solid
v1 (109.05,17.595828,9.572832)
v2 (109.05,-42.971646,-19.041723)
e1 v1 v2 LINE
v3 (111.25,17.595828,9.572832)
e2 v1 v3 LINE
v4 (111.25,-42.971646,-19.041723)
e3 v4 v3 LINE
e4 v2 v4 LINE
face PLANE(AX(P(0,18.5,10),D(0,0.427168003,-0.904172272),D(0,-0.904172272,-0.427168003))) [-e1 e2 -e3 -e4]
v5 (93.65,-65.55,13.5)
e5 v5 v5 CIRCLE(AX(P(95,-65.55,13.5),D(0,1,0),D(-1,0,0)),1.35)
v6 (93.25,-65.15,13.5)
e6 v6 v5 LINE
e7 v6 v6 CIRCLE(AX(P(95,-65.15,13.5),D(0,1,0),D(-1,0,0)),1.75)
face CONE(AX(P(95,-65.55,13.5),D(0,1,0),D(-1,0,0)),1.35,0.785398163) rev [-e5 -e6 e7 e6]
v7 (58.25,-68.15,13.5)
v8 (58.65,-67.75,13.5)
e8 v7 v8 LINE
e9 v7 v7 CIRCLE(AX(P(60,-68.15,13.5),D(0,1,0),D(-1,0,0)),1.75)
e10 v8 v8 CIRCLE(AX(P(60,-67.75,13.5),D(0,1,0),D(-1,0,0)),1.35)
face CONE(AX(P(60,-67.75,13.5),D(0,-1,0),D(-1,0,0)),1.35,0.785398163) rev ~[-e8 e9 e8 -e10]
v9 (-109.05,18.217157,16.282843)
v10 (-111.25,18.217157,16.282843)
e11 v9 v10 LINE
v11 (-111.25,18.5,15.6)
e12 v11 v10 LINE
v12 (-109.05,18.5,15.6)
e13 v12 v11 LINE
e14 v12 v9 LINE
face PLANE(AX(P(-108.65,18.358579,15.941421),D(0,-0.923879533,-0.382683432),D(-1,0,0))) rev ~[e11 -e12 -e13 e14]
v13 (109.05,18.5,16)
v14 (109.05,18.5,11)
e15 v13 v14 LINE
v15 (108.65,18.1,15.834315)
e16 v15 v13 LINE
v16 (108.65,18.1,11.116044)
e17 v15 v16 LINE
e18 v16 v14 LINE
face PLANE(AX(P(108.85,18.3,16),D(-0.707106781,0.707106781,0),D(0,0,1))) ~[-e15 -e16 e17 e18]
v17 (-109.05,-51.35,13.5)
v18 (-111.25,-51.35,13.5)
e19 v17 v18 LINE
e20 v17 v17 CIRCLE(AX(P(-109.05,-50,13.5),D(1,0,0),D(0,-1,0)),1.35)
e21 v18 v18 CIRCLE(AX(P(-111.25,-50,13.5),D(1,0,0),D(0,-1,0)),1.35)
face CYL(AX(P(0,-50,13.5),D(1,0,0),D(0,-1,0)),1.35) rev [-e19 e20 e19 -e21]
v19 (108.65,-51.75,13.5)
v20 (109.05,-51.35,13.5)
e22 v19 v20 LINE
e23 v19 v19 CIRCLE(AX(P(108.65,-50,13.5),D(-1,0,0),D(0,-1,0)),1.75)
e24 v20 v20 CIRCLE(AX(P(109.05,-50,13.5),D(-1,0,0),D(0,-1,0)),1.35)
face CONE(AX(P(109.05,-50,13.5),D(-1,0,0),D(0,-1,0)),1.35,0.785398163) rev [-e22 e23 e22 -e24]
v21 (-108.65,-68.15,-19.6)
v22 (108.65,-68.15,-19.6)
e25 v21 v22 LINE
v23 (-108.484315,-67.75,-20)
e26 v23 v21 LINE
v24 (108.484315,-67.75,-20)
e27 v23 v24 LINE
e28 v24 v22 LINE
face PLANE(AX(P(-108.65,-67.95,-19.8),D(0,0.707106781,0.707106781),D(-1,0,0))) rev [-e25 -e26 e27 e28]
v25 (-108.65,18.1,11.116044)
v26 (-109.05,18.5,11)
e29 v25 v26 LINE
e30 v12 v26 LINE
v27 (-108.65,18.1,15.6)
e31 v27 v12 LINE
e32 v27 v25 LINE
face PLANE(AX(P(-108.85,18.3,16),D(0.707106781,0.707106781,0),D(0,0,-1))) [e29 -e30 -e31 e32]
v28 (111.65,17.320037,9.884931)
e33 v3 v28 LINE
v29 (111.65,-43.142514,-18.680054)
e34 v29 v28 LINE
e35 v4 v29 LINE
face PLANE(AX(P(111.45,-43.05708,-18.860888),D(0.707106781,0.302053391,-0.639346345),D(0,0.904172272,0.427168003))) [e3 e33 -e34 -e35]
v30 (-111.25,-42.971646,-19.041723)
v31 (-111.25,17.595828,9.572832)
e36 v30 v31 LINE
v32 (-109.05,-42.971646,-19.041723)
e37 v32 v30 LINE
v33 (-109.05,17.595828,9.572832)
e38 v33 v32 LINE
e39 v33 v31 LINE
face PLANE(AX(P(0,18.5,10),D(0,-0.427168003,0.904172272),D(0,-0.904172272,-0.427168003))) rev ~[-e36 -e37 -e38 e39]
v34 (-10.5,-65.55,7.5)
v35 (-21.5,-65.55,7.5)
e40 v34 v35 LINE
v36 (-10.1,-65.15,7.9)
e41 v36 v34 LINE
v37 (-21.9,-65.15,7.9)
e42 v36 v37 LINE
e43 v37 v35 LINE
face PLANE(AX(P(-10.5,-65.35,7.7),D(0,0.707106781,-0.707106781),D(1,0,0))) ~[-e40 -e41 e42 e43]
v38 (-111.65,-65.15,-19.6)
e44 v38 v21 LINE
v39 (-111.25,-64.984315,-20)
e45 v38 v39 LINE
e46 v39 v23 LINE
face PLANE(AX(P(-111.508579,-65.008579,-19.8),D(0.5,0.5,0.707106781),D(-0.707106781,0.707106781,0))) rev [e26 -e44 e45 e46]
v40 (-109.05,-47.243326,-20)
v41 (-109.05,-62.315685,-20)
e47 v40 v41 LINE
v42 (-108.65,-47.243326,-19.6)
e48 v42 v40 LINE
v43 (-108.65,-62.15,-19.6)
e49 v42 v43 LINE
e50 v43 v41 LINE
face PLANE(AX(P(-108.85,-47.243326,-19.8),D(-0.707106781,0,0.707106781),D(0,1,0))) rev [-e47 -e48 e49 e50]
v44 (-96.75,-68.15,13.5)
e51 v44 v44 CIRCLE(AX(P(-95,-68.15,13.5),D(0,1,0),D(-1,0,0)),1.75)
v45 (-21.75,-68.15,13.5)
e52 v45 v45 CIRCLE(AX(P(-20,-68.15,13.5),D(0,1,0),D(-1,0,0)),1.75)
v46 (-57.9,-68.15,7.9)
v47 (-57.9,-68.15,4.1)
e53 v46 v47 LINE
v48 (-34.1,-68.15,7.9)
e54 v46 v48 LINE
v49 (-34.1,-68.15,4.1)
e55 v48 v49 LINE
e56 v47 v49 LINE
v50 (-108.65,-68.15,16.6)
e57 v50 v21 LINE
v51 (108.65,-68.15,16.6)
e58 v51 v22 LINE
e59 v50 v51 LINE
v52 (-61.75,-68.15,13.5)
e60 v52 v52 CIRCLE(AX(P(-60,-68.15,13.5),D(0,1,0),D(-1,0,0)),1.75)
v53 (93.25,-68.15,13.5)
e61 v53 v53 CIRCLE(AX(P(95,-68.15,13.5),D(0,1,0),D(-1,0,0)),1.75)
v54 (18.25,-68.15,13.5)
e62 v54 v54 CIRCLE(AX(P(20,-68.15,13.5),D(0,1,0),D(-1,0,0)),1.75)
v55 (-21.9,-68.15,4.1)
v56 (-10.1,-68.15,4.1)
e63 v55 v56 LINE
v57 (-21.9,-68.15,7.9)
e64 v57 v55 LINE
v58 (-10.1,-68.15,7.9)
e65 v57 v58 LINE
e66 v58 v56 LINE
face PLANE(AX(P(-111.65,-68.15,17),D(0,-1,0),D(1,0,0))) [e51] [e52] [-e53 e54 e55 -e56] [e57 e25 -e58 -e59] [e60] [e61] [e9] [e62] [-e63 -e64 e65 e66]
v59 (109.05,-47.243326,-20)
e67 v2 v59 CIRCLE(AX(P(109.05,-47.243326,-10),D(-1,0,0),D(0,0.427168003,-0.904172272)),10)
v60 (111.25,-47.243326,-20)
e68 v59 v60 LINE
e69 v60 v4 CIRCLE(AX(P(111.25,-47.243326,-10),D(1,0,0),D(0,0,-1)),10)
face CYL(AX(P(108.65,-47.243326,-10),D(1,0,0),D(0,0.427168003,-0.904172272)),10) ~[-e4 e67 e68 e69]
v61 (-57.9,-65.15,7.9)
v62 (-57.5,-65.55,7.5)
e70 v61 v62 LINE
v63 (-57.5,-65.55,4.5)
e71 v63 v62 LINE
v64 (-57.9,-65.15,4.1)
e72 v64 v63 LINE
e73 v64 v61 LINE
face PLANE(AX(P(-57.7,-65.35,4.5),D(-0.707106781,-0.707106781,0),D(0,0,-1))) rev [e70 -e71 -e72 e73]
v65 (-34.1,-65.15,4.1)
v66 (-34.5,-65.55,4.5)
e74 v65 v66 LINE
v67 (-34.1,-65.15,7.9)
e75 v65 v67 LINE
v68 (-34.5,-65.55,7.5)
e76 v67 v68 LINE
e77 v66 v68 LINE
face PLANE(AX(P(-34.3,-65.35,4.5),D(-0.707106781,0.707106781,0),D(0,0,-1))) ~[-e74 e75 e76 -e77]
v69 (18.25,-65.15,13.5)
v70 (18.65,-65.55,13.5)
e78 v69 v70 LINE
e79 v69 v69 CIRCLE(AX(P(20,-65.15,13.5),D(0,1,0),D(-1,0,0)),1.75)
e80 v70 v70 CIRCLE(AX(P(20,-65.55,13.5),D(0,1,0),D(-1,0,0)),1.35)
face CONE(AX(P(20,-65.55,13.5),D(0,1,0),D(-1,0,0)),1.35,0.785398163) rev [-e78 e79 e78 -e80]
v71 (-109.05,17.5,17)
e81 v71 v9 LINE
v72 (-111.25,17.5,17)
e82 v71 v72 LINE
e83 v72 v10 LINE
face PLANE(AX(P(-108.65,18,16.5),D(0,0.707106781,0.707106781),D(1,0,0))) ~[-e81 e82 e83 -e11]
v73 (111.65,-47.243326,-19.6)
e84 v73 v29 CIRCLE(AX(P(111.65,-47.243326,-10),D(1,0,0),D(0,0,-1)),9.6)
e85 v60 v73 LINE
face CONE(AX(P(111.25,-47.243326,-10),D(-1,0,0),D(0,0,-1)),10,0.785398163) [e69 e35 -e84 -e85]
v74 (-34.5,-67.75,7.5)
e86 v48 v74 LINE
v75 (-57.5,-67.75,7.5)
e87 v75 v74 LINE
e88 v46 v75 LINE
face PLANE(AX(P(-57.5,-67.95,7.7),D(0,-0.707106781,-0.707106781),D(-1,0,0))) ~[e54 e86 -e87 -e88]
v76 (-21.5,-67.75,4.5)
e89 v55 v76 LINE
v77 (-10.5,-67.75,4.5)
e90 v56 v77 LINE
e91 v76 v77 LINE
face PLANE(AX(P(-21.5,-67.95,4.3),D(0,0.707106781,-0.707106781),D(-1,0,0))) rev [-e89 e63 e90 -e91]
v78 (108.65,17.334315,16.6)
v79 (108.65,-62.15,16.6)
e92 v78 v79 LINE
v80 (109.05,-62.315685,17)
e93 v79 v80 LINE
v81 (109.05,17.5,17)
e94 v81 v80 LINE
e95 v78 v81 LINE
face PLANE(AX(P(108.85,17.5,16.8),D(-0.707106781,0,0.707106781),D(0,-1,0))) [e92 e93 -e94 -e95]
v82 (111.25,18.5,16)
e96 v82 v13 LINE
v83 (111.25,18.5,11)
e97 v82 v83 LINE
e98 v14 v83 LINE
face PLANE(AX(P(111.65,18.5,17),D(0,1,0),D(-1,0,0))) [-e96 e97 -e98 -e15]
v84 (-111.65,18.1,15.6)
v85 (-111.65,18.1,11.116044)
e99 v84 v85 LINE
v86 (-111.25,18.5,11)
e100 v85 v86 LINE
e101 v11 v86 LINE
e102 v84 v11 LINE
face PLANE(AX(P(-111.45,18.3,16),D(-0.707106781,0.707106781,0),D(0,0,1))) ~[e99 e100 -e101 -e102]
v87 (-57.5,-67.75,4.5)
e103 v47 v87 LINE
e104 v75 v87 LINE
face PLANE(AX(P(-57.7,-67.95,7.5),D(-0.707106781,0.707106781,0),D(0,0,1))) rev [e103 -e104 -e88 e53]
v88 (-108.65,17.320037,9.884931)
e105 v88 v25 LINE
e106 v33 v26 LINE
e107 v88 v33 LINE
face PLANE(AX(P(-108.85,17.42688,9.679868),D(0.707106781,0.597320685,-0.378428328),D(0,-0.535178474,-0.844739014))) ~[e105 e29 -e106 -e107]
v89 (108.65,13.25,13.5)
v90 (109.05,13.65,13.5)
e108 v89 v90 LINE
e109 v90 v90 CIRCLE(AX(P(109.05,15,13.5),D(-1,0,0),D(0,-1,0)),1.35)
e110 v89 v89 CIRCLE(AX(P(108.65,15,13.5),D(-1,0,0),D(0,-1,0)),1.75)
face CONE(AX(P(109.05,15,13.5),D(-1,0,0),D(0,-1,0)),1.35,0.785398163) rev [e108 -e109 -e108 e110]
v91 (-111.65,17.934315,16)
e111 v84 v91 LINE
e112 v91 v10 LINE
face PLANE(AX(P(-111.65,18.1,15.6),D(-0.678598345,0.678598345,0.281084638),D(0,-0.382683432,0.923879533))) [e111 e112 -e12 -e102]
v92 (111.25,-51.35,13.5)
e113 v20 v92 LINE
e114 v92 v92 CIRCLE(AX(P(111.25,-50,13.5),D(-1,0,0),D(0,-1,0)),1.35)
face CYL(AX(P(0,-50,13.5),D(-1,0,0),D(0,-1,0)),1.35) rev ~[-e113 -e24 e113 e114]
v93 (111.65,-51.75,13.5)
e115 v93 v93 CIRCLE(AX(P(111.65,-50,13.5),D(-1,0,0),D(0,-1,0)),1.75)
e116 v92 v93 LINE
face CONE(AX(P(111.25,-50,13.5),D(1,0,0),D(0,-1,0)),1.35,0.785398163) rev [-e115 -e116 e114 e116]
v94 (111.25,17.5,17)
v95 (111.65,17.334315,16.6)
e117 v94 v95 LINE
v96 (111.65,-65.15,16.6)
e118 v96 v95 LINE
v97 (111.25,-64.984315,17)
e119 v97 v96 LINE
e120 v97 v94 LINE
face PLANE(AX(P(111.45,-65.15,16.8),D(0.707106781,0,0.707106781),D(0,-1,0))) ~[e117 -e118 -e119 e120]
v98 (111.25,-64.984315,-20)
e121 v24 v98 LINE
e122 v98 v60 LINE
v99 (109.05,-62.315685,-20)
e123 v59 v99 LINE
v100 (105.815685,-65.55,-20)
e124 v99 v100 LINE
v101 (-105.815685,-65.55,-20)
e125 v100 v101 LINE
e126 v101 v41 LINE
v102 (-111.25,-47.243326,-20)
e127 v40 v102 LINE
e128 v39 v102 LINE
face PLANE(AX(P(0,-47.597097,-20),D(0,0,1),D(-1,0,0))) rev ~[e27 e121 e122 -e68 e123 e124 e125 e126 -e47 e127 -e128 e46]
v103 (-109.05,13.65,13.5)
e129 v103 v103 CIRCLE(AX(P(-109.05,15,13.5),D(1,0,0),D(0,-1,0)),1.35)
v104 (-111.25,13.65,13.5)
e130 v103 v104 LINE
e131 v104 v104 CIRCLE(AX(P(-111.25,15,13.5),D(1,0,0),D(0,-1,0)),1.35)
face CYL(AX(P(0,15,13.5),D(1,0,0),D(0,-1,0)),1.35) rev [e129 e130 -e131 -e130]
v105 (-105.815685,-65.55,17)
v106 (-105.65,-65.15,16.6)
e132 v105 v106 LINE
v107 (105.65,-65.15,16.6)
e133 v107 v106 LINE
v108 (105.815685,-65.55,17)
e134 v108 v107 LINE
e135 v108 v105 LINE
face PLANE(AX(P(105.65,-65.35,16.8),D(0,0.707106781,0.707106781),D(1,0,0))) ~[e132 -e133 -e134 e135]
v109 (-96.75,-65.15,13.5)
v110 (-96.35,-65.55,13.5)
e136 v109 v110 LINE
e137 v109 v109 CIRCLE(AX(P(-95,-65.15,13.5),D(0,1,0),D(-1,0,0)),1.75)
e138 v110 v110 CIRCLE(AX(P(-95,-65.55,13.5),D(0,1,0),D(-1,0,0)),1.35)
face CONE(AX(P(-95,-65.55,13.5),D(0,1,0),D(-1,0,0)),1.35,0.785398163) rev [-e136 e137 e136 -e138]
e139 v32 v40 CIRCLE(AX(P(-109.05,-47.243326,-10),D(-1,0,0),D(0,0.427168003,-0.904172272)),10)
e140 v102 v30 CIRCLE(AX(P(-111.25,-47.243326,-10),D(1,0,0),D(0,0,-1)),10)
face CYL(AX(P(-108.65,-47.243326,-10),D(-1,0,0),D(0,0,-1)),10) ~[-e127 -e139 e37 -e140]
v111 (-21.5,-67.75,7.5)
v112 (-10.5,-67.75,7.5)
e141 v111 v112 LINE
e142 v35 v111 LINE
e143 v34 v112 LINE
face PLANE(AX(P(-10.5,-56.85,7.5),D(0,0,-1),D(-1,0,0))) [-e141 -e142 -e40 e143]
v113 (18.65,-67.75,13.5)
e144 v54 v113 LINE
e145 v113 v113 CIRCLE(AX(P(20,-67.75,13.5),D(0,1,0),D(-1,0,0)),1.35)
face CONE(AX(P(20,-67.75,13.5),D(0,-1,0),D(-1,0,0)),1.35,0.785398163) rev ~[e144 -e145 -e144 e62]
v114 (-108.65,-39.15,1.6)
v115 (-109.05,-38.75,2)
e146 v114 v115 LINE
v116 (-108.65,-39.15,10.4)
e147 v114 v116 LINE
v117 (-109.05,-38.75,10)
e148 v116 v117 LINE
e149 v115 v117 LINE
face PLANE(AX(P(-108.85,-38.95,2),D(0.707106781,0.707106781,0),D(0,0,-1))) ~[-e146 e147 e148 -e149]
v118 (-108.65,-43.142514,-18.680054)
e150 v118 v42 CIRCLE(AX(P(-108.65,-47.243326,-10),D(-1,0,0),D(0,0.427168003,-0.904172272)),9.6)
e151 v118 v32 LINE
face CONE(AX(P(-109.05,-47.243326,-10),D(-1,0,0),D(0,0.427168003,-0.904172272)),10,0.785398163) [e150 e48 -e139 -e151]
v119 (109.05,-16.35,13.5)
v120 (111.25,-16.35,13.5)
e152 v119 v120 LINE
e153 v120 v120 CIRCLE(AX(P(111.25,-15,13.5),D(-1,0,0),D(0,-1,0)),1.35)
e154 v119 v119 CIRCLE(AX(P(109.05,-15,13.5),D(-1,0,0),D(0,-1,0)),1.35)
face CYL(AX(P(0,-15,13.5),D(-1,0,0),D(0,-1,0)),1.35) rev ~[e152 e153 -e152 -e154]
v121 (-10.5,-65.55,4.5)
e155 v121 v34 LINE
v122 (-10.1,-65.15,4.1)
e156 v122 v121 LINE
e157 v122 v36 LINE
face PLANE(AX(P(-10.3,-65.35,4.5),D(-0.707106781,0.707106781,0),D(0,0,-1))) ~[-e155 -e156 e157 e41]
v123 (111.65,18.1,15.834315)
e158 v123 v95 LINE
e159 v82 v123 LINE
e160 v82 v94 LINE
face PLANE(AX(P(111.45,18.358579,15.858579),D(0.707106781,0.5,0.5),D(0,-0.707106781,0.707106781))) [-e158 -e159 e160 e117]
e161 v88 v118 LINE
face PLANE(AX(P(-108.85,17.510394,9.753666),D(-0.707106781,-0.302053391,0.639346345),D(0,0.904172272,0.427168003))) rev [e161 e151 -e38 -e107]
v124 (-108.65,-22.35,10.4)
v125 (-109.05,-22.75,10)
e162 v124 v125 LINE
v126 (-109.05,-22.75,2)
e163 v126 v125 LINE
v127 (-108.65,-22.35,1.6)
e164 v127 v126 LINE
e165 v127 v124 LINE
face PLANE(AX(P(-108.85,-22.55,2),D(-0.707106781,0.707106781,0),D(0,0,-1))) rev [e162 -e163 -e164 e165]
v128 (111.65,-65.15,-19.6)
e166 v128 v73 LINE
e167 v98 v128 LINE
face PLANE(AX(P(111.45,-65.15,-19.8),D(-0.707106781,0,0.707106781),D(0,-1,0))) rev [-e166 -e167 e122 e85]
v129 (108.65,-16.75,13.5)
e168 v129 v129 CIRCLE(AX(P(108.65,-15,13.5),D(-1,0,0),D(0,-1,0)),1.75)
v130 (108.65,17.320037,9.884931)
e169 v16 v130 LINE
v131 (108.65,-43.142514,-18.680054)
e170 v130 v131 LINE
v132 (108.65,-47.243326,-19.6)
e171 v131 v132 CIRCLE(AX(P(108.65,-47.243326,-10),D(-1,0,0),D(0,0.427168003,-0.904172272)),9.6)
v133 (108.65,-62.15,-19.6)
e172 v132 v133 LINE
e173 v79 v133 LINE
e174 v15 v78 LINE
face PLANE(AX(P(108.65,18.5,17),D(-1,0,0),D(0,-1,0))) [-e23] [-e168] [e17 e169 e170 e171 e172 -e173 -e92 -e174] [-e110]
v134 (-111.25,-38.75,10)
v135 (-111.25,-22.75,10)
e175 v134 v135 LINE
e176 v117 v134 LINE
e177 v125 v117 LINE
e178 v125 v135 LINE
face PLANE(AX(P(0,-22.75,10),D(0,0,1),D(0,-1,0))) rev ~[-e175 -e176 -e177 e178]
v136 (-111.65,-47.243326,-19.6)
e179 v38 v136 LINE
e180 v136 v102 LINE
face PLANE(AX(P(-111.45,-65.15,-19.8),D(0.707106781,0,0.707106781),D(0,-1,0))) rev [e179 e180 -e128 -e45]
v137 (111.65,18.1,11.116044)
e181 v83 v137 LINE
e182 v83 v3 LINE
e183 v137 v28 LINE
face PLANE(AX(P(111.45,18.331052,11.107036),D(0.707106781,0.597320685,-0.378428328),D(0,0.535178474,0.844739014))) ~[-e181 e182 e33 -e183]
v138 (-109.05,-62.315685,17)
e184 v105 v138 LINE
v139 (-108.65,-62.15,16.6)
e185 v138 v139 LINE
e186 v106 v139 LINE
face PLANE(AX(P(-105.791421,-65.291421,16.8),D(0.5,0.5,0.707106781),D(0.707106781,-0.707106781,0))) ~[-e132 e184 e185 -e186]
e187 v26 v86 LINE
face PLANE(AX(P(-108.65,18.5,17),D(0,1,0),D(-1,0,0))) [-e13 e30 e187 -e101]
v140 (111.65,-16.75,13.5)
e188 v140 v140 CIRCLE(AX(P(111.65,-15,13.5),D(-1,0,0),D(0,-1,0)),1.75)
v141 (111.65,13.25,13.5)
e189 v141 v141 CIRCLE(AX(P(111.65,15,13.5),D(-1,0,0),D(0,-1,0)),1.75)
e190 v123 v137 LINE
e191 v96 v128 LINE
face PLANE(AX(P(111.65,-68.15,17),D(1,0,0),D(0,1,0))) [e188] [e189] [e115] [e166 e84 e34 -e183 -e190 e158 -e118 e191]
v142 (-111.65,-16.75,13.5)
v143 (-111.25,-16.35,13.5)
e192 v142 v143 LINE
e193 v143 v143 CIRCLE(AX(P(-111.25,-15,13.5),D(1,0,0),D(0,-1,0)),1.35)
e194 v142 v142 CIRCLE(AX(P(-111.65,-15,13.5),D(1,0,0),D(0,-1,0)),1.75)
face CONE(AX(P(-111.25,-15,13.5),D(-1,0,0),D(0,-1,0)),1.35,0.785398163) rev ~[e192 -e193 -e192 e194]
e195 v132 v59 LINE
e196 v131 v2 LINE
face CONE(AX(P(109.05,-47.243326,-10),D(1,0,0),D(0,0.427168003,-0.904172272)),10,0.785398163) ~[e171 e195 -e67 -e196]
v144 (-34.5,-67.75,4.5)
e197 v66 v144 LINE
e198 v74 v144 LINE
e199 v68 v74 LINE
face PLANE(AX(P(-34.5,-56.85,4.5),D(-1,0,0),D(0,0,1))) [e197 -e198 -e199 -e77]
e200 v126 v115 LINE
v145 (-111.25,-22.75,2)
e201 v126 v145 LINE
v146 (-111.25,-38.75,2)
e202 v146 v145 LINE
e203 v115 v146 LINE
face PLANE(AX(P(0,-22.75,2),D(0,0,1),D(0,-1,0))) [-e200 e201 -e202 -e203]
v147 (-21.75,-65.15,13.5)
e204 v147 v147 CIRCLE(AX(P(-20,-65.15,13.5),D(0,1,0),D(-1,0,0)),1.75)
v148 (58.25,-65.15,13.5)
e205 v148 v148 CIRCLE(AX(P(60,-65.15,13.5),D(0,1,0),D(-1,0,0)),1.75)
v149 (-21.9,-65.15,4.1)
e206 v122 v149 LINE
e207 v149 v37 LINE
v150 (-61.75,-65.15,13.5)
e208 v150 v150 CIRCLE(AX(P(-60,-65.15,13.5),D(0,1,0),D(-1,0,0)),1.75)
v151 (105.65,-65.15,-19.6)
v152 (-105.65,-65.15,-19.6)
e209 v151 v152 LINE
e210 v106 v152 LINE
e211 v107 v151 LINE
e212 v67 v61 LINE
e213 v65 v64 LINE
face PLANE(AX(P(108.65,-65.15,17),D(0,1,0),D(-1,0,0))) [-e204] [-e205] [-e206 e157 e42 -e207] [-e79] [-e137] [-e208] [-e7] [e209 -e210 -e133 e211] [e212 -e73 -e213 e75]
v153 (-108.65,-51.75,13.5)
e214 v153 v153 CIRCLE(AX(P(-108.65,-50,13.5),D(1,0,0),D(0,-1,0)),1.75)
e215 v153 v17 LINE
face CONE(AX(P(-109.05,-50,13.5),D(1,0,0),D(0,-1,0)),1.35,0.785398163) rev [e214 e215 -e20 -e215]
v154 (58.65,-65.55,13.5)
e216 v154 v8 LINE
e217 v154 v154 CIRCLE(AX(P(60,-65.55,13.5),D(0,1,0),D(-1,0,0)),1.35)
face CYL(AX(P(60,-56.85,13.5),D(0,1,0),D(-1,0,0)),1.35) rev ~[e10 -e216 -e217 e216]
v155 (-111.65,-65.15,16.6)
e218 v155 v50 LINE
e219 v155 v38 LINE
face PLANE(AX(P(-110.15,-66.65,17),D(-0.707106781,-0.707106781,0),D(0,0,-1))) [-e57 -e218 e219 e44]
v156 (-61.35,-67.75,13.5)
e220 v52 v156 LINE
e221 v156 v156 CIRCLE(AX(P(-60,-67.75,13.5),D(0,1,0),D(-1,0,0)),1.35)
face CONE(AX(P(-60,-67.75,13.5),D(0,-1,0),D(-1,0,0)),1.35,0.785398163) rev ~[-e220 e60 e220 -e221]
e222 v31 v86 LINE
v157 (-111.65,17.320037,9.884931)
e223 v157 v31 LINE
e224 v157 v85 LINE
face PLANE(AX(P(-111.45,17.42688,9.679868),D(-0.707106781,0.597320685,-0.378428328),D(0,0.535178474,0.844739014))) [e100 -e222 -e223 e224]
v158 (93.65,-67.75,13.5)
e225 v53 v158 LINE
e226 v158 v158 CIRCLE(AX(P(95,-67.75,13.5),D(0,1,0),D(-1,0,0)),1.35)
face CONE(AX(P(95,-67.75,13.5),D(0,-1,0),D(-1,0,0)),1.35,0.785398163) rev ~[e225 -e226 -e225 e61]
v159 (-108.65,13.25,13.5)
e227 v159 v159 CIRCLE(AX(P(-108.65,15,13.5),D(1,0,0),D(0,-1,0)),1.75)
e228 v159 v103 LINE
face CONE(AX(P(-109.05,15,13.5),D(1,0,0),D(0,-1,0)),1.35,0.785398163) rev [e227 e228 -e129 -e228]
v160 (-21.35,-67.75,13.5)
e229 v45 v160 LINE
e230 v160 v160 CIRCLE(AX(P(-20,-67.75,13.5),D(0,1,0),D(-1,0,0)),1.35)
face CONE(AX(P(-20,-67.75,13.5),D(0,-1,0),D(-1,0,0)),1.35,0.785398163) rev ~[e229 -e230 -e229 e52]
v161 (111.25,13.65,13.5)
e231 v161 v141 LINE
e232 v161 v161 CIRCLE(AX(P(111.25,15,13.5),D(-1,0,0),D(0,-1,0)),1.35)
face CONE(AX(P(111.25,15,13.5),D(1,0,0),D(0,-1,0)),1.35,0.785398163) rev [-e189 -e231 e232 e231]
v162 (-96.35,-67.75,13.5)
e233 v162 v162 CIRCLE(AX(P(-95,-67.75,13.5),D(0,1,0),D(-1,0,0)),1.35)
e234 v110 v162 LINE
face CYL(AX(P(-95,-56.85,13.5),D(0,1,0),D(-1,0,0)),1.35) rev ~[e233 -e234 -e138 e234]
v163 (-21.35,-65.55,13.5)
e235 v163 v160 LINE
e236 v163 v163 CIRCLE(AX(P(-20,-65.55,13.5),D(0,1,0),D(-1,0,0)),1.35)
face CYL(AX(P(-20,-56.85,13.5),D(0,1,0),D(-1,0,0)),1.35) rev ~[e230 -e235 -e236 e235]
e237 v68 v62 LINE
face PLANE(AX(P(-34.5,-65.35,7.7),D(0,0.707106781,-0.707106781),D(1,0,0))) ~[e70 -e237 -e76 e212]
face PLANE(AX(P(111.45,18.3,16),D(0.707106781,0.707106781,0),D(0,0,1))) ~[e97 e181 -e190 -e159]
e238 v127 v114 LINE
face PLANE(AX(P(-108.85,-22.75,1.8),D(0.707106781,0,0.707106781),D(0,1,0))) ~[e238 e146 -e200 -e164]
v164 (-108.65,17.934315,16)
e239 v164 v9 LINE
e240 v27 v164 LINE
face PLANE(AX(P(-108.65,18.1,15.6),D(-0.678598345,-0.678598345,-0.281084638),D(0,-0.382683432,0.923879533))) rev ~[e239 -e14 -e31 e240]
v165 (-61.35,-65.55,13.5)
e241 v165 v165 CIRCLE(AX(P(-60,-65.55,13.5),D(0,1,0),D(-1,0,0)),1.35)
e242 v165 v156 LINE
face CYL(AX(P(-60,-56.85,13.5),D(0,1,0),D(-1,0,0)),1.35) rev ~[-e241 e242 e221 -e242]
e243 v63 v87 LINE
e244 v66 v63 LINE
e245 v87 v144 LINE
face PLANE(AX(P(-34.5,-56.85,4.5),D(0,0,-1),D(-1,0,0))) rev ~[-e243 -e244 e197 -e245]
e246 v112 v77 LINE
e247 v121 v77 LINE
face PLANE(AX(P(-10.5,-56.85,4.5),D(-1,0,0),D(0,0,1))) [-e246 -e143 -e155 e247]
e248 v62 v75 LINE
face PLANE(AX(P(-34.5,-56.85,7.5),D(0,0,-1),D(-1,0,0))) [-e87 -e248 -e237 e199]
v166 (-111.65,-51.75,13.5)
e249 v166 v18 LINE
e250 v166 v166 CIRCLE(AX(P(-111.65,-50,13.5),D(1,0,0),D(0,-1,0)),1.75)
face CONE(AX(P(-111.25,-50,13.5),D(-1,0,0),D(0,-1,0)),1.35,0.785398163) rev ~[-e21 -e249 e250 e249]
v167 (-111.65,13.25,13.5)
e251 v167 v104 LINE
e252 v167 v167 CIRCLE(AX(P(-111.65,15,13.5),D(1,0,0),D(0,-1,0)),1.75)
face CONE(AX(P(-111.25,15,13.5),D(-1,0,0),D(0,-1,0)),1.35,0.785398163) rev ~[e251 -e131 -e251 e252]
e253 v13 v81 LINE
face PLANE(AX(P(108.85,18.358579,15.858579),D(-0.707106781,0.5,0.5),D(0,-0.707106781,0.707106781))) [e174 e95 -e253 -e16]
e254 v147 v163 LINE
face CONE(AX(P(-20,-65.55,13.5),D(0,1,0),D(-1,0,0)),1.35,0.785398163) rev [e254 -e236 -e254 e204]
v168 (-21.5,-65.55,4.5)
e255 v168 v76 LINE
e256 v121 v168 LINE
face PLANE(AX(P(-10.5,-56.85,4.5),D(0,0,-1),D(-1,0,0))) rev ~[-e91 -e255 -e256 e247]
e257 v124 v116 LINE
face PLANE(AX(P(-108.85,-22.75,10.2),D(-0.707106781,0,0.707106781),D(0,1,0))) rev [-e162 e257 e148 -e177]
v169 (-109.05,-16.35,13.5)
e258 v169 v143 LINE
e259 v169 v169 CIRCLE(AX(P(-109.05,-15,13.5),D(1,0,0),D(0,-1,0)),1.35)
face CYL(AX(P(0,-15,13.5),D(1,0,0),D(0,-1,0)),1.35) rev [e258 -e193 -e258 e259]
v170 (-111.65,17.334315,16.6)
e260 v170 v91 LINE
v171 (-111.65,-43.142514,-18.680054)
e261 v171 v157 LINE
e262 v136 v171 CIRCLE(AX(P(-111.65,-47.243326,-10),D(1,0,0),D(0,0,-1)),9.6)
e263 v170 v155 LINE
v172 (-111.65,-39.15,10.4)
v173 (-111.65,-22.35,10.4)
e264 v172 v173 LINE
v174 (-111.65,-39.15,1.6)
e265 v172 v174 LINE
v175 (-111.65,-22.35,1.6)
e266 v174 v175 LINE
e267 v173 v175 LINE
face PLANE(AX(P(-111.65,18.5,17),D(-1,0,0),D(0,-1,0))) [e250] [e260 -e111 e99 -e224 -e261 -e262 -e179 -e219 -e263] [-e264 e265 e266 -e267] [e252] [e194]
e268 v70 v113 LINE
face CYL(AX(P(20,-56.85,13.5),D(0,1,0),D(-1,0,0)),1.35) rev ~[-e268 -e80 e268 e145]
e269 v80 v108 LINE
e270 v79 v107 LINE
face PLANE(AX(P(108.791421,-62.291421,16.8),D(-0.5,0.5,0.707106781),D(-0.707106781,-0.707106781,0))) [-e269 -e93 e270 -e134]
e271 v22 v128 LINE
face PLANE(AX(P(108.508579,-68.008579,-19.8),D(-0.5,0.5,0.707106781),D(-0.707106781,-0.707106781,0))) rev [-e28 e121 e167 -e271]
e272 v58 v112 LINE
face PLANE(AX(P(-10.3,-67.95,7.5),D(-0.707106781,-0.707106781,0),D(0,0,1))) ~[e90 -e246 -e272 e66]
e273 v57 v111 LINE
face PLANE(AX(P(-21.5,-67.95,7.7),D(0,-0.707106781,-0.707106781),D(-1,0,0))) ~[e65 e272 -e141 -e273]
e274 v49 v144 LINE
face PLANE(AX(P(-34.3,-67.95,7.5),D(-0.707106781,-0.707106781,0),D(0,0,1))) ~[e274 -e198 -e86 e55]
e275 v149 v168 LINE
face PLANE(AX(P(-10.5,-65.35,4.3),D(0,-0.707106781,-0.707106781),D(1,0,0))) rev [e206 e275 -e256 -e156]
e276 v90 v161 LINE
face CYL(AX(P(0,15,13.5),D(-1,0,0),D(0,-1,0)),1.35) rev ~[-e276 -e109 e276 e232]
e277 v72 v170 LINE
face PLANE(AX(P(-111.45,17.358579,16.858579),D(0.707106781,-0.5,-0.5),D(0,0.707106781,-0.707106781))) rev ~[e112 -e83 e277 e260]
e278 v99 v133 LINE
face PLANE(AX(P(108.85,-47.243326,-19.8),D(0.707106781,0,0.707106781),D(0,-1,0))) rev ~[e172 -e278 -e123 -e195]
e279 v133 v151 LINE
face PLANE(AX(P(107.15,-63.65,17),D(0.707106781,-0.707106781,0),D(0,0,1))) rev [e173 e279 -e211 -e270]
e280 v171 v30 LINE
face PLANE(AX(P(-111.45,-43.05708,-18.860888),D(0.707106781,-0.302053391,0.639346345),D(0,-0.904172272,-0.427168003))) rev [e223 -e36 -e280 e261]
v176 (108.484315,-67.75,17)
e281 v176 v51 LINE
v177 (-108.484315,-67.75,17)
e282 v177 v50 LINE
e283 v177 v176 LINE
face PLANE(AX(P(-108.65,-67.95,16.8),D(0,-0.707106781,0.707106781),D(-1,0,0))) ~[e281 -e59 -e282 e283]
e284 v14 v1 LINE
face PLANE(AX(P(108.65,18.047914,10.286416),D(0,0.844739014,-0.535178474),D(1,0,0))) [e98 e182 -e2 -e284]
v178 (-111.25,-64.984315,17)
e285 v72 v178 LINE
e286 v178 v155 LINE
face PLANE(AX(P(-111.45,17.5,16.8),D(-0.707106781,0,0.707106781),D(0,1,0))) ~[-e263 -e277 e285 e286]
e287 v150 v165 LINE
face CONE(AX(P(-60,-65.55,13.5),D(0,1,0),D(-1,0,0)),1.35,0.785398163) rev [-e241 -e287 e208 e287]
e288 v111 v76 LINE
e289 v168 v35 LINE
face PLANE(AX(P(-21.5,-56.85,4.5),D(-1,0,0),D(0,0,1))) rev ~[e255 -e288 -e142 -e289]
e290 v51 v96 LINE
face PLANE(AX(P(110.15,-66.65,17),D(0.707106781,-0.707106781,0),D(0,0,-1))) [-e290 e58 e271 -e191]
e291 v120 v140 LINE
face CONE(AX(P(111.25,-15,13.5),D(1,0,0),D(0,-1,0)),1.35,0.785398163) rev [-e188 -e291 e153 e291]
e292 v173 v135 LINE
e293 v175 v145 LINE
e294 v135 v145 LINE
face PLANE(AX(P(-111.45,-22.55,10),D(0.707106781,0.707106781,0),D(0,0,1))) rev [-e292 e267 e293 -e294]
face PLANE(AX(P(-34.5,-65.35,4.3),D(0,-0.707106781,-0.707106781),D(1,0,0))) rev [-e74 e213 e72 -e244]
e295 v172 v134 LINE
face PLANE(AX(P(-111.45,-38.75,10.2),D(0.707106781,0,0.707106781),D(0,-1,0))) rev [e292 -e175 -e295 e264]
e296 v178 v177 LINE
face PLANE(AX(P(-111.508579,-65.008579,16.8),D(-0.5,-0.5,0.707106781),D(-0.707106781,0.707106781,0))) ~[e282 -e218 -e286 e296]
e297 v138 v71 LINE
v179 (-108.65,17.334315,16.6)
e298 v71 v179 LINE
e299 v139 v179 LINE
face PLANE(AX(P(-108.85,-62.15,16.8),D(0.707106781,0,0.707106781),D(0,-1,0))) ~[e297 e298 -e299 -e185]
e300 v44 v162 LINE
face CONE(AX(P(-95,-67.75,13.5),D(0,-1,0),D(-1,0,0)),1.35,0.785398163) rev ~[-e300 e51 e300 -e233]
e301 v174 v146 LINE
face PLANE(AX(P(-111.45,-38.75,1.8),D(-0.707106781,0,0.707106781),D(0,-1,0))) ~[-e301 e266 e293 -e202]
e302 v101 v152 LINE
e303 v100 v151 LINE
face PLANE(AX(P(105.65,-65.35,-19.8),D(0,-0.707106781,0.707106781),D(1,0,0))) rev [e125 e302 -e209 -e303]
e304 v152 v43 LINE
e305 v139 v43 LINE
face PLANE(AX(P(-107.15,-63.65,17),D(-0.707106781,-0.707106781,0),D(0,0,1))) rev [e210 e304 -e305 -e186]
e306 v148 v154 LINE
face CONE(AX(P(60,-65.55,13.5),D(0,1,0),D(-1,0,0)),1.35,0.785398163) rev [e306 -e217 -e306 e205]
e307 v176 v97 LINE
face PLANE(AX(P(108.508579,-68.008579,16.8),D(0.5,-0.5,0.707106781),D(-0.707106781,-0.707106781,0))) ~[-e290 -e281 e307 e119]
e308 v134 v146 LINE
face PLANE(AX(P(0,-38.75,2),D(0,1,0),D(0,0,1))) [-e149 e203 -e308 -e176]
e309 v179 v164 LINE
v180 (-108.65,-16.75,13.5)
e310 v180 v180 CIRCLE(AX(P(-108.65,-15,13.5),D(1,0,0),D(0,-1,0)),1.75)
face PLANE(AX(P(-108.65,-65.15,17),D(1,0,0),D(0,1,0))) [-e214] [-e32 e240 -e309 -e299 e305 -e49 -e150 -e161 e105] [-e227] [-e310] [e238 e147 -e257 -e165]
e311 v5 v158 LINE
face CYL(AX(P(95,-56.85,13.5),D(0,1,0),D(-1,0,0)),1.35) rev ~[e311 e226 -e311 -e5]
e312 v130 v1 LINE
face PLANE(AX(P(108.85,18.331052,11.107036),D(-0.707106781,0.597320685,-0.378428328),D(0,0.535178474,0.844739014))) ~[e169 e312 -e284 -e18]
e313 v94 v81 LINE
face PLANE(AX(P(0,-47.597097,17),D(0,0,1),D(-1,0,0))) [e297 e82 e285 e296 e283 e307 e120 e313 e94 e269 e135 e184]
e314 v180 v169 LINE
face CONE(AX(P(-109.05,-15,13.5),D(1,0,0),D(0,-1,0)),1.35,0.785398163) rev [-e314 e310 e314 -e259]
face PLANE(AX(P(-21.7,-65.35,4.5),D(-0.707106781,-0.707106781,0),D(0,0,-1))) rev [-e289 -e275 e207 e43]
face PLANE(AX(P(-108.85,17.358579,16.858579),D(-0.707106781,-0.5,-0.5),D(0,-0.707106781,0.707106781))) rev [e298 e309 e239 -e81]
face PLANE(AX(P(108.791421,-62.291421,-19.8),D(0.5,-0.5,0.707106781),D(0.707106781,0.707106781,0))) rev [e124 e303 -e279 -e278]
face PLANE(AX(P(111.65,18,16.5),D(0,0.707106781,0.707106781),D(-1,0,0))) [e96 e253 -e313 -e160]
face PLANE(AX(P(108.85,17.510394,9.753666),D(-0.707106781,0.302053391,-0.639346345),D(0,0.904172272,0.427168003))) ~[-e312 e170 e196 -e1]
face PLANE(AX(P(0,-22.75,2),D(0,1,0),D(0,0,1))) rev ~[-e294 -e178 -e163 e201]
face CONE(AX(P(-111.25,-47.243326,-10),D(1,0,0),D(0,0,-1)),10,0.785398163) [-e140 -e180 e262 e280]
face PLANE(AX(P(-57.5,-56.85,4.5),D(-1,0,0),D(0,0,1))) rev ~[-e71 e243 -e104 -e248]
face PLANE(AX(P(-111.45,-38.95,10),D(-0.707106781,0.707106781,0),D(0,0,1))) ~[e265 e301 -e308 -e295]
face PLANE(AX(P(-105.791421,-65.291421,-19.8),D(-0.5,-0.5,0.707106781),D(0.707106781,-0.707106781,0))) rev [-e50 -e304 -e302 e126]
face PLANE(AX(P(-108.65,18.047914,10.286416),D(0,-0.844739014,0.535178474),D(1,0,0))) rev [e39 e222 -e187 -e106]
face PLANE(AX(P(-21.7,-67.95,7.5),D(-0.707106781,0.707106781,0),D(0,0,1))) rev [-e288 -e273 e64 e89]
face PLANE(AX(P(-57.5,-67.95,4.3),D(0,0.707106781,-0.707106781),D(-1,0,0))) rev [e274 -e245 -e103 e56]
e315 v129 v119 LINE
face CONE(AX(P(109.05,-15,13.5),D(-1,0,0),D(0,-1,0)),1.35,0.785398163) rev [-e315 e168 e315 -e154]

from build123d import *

# Parameters (mm, degrees)
PAD007_DEPTH               = 37
CHAMFER011013_SIZE         = 3
SKETCH041_W                = 11
SKETCH041_H                = 3
SKETCH041_W_2              = 23
POCKET014_DEPTH            = 11.301
SKETCH042_R                = 1.35
POCKET015_DEPTH            = 11.301
SKETCH043_R                = 1.35
POCKET016_DEPTH            = 111.651
POCKET016_DEPTH_BACK       = 111.651
POCKET017_DEPTH            = 111.651
POCKET017_DEPTH_BACK       = 111.651
CHAMFER011014_SIZE         = 1
CHAMFER011015_SIZE         = 1
FILLET003_R                = 10
SKETCH045_W                = 16
SKETCH045_H                = 8
POCKET018_DEPTH            = 111.651
CHAMFER011020_SIZE         = 0.4
BODY006009_PLACEMENT_ANGLE = 180


with BuildPart() as part:
    # Sketch040 → Pad007 (new body)
    with BuildSketch(Plane.XY):
        Polygon((-108.65, -18.5), (-108.65, 65.15), (108.65, 65.15), (108.65, -18.5), (111.65, -18.5), (111.65, 68.15), (-111.65, 68.15), (-111.65, -18.5), align=None)
    extrude(amount=-PAD007_DEPTH)

    # Chamfer011013
    chamfer011013_edges = [part.edges().sort_by_distance(p)[0] for p in [
        (-108.65, 65.15, -18.5),
        (108.65, 65.15, -18.5),
        (111.65, 68.15, -18.5),
        (-111.65, 68.15, -18.5),
    ]]
    chamfer(chamfer011013_edges, length=CHAMFER011013_SIZE)

    # Sketch041 (on DatumPlane) → Pocket014 (cut, through all)
    with BuildSketch(Plane.XZ.offset(-56.85)):
        with Locations((16, -11)):
            Rectangle(SKETCH041_W, SKETCH041_H)
        with Locations((46, -11)):
            Rectangle(SKETCH041_W_2, SKETCH041_H)
    extrude(amount=-POCKET014_DEPTH, mode=Mode.SUBTRACT)

    # Sketch042 (on DatumPlane) → Pocket015 (cut, through all)
    with BuildSketch(Plane.XZ.offset(-56.85)):
        with Locations((-95, -3.5)):
            Circle(SKETCH042_R)
        with Locations((-60, -3.5)):
            Circle(SKETCH042_R)
        with Locations((-20, -3.5)):
            Circle(SKETCH042_R)
        with Locations((20, -3.5)):
            Circle(SKETCH042_R)
        with Locations((60, -3.5)):
            Circle(SKETCH042_R)
        with Locations((95, -3.5)):
            Circle(SKETCH042_R)
    extrude(amount=-POCKET015_DEPTH, mode=Mode.SUBTRACT)

    # Sketch043 → Pocket016 (cut, two sides)
    with BuildSketch(Plane.YZ) as pocket016_sk:
        with Locations((-15, -3.5)):
            Circle(SKETCH043_R)
        with Locations((15, -3.5)):
            Circle(SKETCH043_R)
        with Locations((50, -3.5)):
            Circle(SKETCH043_R)
    extrude(amount=-POCKET016_DEPTH, mode=Mode.SUBTRACT)
    extrude(pocket016_sk.sketch, amount=POCKET016_DEPTH_BACK, mode=Mode.SUBTRACT)

    # Sketch044 → Pocket017 (cut, two sides)
    with BuildSketch(Plane.YZ) as pocket017_sk:
        Polygon((-18.5, -7), (45, -37), (-18.5, -37), align=None)
    extrude(amount=-POCKET017_DEPTH, mode=Mode.SUBTRACT)
    extrude(pocket017_sk.sketch, amount=POCKET017_DEPTH_BACK, mode=Mode.SUBTRACT)

    # Chamfer011014
    chamfer011014_edges = [part.edges().sort_by_distance(p)[0] for p in [
        (110.15, -18.5, 0),
        (-110.15, -18.5, 0),
    ]]
    chamfer(chamfer011014_edges, length=CHAMFER011014_SIZE)

    # Chamfer011015
    chamfer011015_edges = [part.edges().sort_by_distance(p)[0] for p in [
        (110.15, -18.5, -7),
        (-110.15, -18.5, -7),
    ]]
    chamfer(chamfer011015_edges, length=CHAMFER011015_SIZE)

    # Fillet003
    fillet003_edges = [part.edges().sort_by_distance(p)[0] for p in [
        (110.15, 45, -37),
        (-110.15, 45, -37),
    ]]
    fillet(fillet003_edges, radius=FILLET003_R)

    # Sketch045 → Pocket018 (cut, through all)
    with BuildSketch(Plane.YZ):
        with Locations((30.75, -11)):
            Rectangle(SKETCH045_W, SKETCH045_H)
    extrude(amount=POCKET018_DEPTH, mode=Mode.SUBTRACT)

    # Chamfer011020
    chamfer011020_edges = [part.edges().sort_by_distance(p)[0] for p in [
        (111.65, -18.5, -3.5),
        (111.65, -16.35, -3.5),
        (108.65, -16.35, -3.5),
        (111.65, 23.825, 0),
        (111.65, -18, -0.5),
        (111.65, -18.047914, -6.713584),
        (110.15, -18.5, -1),
        (108.65, -18.5, -3.5),
        (108.65, -18.047914, -6.713584),
        (108.65, 12.687909, -21.734445),
        (111.65, 12.687909, -21.734445),
        (111.65, 48.65, -3.5),
        (108.65, 48.65, -3.5),
        (111.65, 13.65, -3.5),
        (108.65, 13.65, -3.5),
        (110.15, 66.65, 0),
        (108.65, 45.054403, -36.75749),
        (111.65, 45.054403, -36.75749),
        (108.65, 54.696663, -37),
        (111.65, 56.196663, -37),
        (110.15, 66.65, -37),
        (107.15, 63.65, -37),
        (0, 65.15, -37),
        (0, 68.15, -37),
        (-107.15, 63.65, -37),
        (-110.15, 66.65, -37),
        (-111.65, 56.196663, -37),
        (-108.65, 54.696663, -37),
        (-108.65, 45.054403, -36.75749),
        (-111.65, 45.054403, -36.75749),
        (-111.65, 12.687909, -21.734445),
        (-108.65, 12.687909, -21.734445),
        (-108.65, -18.047914, -6.713584),
        (-111.65, -18.047914, -6.713584),
        (-108.65, -18.5, -3.5),
        (-111.65, -18.5, -3.5),
        (-111.65, -16.35, -3.5),
        (-108.65, -16.35, -3.5),
        (-111.65, 13.65, -3.5),
        (-108.65, 13.65, -3.5),
        (-108.65, 48.65, -3.5),
        (-111.65, 48.65, -3.5),
        (-96.35, 65.15, -3.5),
        (-61.35, 65.15, -3.5),
        (93.65, 65.15, -3.5),
        (58.65, 65.15, -3.5),
        (18.65, 65.15, -3.5),
        (-21.35, 65.15, -3.5),
        (107.15, 63.65, 0),
        (108.65, 22.325, 0),
        (108.65, -18, -0.5),
        (0, 68.15, 0),
        (0, 65.15, 0),
        (-107.15, 63.65, 0),
        (-110.15, 66.65, 0),
        (-111.65, 23.825, 0),
        (-108.65, 22.325, 0),
        (-108.65, -18, -0.5),
        (-111.65, -18, -0.5),
        (-96.35, 68.15, -3.5),
        (-61.35, 68.15, -3.5),
        (-21.35, 68.15, -3.5),
        (18.65, 68.15, -3.5),
        (58.65, 68.15, -3.5),
        (93.65, 68.15, -3.5),
        (111.65, 38.75, -11),
        (111.65, 30.75, -7),
        (111.65, 22.75, -11),
        (111.65, 30.75, -15),
        (34.5, 68.15, -11),
        (46, 68.15, -12.5),
        (46, 68.15, -9.5),
        (57.5, 68.15, -11),
        (10.5, 68.15, -11),
        (16, 68.15, -12.5),
        (16, 68.15, -9.5),
        (21.5, 68.15, -11),
        (108.65, 30.75, -7),
        (108.65, 22.75, -11),
        (108.65, 30.75, -15),
        (108.65, 38.75, -11),
        (16, 65.15, -12.5),
        (10.5, 65.15, -11),
        (16, 65.15, -9.5),
        (21.5, 65.15, -11),
        (34.5, 65.15, -11),
        (46, 65.15, -12.5),
        (46, 65.15, -9.5),
        (57.5, 65.15, -11),
    ]]
    chamfer(chamfer011020_edges, length=CHAMFER011020_SIZE)


with BuildPart() as part_1:
    # Body006009 placement: moved
    add(part.part.moved(Location((0, 0, 17))).rotate(Axis((0, 0, 17), (0, 0, 1)), BODY006009_PLACEMENT_ANGLE))


solid = part_1.part
